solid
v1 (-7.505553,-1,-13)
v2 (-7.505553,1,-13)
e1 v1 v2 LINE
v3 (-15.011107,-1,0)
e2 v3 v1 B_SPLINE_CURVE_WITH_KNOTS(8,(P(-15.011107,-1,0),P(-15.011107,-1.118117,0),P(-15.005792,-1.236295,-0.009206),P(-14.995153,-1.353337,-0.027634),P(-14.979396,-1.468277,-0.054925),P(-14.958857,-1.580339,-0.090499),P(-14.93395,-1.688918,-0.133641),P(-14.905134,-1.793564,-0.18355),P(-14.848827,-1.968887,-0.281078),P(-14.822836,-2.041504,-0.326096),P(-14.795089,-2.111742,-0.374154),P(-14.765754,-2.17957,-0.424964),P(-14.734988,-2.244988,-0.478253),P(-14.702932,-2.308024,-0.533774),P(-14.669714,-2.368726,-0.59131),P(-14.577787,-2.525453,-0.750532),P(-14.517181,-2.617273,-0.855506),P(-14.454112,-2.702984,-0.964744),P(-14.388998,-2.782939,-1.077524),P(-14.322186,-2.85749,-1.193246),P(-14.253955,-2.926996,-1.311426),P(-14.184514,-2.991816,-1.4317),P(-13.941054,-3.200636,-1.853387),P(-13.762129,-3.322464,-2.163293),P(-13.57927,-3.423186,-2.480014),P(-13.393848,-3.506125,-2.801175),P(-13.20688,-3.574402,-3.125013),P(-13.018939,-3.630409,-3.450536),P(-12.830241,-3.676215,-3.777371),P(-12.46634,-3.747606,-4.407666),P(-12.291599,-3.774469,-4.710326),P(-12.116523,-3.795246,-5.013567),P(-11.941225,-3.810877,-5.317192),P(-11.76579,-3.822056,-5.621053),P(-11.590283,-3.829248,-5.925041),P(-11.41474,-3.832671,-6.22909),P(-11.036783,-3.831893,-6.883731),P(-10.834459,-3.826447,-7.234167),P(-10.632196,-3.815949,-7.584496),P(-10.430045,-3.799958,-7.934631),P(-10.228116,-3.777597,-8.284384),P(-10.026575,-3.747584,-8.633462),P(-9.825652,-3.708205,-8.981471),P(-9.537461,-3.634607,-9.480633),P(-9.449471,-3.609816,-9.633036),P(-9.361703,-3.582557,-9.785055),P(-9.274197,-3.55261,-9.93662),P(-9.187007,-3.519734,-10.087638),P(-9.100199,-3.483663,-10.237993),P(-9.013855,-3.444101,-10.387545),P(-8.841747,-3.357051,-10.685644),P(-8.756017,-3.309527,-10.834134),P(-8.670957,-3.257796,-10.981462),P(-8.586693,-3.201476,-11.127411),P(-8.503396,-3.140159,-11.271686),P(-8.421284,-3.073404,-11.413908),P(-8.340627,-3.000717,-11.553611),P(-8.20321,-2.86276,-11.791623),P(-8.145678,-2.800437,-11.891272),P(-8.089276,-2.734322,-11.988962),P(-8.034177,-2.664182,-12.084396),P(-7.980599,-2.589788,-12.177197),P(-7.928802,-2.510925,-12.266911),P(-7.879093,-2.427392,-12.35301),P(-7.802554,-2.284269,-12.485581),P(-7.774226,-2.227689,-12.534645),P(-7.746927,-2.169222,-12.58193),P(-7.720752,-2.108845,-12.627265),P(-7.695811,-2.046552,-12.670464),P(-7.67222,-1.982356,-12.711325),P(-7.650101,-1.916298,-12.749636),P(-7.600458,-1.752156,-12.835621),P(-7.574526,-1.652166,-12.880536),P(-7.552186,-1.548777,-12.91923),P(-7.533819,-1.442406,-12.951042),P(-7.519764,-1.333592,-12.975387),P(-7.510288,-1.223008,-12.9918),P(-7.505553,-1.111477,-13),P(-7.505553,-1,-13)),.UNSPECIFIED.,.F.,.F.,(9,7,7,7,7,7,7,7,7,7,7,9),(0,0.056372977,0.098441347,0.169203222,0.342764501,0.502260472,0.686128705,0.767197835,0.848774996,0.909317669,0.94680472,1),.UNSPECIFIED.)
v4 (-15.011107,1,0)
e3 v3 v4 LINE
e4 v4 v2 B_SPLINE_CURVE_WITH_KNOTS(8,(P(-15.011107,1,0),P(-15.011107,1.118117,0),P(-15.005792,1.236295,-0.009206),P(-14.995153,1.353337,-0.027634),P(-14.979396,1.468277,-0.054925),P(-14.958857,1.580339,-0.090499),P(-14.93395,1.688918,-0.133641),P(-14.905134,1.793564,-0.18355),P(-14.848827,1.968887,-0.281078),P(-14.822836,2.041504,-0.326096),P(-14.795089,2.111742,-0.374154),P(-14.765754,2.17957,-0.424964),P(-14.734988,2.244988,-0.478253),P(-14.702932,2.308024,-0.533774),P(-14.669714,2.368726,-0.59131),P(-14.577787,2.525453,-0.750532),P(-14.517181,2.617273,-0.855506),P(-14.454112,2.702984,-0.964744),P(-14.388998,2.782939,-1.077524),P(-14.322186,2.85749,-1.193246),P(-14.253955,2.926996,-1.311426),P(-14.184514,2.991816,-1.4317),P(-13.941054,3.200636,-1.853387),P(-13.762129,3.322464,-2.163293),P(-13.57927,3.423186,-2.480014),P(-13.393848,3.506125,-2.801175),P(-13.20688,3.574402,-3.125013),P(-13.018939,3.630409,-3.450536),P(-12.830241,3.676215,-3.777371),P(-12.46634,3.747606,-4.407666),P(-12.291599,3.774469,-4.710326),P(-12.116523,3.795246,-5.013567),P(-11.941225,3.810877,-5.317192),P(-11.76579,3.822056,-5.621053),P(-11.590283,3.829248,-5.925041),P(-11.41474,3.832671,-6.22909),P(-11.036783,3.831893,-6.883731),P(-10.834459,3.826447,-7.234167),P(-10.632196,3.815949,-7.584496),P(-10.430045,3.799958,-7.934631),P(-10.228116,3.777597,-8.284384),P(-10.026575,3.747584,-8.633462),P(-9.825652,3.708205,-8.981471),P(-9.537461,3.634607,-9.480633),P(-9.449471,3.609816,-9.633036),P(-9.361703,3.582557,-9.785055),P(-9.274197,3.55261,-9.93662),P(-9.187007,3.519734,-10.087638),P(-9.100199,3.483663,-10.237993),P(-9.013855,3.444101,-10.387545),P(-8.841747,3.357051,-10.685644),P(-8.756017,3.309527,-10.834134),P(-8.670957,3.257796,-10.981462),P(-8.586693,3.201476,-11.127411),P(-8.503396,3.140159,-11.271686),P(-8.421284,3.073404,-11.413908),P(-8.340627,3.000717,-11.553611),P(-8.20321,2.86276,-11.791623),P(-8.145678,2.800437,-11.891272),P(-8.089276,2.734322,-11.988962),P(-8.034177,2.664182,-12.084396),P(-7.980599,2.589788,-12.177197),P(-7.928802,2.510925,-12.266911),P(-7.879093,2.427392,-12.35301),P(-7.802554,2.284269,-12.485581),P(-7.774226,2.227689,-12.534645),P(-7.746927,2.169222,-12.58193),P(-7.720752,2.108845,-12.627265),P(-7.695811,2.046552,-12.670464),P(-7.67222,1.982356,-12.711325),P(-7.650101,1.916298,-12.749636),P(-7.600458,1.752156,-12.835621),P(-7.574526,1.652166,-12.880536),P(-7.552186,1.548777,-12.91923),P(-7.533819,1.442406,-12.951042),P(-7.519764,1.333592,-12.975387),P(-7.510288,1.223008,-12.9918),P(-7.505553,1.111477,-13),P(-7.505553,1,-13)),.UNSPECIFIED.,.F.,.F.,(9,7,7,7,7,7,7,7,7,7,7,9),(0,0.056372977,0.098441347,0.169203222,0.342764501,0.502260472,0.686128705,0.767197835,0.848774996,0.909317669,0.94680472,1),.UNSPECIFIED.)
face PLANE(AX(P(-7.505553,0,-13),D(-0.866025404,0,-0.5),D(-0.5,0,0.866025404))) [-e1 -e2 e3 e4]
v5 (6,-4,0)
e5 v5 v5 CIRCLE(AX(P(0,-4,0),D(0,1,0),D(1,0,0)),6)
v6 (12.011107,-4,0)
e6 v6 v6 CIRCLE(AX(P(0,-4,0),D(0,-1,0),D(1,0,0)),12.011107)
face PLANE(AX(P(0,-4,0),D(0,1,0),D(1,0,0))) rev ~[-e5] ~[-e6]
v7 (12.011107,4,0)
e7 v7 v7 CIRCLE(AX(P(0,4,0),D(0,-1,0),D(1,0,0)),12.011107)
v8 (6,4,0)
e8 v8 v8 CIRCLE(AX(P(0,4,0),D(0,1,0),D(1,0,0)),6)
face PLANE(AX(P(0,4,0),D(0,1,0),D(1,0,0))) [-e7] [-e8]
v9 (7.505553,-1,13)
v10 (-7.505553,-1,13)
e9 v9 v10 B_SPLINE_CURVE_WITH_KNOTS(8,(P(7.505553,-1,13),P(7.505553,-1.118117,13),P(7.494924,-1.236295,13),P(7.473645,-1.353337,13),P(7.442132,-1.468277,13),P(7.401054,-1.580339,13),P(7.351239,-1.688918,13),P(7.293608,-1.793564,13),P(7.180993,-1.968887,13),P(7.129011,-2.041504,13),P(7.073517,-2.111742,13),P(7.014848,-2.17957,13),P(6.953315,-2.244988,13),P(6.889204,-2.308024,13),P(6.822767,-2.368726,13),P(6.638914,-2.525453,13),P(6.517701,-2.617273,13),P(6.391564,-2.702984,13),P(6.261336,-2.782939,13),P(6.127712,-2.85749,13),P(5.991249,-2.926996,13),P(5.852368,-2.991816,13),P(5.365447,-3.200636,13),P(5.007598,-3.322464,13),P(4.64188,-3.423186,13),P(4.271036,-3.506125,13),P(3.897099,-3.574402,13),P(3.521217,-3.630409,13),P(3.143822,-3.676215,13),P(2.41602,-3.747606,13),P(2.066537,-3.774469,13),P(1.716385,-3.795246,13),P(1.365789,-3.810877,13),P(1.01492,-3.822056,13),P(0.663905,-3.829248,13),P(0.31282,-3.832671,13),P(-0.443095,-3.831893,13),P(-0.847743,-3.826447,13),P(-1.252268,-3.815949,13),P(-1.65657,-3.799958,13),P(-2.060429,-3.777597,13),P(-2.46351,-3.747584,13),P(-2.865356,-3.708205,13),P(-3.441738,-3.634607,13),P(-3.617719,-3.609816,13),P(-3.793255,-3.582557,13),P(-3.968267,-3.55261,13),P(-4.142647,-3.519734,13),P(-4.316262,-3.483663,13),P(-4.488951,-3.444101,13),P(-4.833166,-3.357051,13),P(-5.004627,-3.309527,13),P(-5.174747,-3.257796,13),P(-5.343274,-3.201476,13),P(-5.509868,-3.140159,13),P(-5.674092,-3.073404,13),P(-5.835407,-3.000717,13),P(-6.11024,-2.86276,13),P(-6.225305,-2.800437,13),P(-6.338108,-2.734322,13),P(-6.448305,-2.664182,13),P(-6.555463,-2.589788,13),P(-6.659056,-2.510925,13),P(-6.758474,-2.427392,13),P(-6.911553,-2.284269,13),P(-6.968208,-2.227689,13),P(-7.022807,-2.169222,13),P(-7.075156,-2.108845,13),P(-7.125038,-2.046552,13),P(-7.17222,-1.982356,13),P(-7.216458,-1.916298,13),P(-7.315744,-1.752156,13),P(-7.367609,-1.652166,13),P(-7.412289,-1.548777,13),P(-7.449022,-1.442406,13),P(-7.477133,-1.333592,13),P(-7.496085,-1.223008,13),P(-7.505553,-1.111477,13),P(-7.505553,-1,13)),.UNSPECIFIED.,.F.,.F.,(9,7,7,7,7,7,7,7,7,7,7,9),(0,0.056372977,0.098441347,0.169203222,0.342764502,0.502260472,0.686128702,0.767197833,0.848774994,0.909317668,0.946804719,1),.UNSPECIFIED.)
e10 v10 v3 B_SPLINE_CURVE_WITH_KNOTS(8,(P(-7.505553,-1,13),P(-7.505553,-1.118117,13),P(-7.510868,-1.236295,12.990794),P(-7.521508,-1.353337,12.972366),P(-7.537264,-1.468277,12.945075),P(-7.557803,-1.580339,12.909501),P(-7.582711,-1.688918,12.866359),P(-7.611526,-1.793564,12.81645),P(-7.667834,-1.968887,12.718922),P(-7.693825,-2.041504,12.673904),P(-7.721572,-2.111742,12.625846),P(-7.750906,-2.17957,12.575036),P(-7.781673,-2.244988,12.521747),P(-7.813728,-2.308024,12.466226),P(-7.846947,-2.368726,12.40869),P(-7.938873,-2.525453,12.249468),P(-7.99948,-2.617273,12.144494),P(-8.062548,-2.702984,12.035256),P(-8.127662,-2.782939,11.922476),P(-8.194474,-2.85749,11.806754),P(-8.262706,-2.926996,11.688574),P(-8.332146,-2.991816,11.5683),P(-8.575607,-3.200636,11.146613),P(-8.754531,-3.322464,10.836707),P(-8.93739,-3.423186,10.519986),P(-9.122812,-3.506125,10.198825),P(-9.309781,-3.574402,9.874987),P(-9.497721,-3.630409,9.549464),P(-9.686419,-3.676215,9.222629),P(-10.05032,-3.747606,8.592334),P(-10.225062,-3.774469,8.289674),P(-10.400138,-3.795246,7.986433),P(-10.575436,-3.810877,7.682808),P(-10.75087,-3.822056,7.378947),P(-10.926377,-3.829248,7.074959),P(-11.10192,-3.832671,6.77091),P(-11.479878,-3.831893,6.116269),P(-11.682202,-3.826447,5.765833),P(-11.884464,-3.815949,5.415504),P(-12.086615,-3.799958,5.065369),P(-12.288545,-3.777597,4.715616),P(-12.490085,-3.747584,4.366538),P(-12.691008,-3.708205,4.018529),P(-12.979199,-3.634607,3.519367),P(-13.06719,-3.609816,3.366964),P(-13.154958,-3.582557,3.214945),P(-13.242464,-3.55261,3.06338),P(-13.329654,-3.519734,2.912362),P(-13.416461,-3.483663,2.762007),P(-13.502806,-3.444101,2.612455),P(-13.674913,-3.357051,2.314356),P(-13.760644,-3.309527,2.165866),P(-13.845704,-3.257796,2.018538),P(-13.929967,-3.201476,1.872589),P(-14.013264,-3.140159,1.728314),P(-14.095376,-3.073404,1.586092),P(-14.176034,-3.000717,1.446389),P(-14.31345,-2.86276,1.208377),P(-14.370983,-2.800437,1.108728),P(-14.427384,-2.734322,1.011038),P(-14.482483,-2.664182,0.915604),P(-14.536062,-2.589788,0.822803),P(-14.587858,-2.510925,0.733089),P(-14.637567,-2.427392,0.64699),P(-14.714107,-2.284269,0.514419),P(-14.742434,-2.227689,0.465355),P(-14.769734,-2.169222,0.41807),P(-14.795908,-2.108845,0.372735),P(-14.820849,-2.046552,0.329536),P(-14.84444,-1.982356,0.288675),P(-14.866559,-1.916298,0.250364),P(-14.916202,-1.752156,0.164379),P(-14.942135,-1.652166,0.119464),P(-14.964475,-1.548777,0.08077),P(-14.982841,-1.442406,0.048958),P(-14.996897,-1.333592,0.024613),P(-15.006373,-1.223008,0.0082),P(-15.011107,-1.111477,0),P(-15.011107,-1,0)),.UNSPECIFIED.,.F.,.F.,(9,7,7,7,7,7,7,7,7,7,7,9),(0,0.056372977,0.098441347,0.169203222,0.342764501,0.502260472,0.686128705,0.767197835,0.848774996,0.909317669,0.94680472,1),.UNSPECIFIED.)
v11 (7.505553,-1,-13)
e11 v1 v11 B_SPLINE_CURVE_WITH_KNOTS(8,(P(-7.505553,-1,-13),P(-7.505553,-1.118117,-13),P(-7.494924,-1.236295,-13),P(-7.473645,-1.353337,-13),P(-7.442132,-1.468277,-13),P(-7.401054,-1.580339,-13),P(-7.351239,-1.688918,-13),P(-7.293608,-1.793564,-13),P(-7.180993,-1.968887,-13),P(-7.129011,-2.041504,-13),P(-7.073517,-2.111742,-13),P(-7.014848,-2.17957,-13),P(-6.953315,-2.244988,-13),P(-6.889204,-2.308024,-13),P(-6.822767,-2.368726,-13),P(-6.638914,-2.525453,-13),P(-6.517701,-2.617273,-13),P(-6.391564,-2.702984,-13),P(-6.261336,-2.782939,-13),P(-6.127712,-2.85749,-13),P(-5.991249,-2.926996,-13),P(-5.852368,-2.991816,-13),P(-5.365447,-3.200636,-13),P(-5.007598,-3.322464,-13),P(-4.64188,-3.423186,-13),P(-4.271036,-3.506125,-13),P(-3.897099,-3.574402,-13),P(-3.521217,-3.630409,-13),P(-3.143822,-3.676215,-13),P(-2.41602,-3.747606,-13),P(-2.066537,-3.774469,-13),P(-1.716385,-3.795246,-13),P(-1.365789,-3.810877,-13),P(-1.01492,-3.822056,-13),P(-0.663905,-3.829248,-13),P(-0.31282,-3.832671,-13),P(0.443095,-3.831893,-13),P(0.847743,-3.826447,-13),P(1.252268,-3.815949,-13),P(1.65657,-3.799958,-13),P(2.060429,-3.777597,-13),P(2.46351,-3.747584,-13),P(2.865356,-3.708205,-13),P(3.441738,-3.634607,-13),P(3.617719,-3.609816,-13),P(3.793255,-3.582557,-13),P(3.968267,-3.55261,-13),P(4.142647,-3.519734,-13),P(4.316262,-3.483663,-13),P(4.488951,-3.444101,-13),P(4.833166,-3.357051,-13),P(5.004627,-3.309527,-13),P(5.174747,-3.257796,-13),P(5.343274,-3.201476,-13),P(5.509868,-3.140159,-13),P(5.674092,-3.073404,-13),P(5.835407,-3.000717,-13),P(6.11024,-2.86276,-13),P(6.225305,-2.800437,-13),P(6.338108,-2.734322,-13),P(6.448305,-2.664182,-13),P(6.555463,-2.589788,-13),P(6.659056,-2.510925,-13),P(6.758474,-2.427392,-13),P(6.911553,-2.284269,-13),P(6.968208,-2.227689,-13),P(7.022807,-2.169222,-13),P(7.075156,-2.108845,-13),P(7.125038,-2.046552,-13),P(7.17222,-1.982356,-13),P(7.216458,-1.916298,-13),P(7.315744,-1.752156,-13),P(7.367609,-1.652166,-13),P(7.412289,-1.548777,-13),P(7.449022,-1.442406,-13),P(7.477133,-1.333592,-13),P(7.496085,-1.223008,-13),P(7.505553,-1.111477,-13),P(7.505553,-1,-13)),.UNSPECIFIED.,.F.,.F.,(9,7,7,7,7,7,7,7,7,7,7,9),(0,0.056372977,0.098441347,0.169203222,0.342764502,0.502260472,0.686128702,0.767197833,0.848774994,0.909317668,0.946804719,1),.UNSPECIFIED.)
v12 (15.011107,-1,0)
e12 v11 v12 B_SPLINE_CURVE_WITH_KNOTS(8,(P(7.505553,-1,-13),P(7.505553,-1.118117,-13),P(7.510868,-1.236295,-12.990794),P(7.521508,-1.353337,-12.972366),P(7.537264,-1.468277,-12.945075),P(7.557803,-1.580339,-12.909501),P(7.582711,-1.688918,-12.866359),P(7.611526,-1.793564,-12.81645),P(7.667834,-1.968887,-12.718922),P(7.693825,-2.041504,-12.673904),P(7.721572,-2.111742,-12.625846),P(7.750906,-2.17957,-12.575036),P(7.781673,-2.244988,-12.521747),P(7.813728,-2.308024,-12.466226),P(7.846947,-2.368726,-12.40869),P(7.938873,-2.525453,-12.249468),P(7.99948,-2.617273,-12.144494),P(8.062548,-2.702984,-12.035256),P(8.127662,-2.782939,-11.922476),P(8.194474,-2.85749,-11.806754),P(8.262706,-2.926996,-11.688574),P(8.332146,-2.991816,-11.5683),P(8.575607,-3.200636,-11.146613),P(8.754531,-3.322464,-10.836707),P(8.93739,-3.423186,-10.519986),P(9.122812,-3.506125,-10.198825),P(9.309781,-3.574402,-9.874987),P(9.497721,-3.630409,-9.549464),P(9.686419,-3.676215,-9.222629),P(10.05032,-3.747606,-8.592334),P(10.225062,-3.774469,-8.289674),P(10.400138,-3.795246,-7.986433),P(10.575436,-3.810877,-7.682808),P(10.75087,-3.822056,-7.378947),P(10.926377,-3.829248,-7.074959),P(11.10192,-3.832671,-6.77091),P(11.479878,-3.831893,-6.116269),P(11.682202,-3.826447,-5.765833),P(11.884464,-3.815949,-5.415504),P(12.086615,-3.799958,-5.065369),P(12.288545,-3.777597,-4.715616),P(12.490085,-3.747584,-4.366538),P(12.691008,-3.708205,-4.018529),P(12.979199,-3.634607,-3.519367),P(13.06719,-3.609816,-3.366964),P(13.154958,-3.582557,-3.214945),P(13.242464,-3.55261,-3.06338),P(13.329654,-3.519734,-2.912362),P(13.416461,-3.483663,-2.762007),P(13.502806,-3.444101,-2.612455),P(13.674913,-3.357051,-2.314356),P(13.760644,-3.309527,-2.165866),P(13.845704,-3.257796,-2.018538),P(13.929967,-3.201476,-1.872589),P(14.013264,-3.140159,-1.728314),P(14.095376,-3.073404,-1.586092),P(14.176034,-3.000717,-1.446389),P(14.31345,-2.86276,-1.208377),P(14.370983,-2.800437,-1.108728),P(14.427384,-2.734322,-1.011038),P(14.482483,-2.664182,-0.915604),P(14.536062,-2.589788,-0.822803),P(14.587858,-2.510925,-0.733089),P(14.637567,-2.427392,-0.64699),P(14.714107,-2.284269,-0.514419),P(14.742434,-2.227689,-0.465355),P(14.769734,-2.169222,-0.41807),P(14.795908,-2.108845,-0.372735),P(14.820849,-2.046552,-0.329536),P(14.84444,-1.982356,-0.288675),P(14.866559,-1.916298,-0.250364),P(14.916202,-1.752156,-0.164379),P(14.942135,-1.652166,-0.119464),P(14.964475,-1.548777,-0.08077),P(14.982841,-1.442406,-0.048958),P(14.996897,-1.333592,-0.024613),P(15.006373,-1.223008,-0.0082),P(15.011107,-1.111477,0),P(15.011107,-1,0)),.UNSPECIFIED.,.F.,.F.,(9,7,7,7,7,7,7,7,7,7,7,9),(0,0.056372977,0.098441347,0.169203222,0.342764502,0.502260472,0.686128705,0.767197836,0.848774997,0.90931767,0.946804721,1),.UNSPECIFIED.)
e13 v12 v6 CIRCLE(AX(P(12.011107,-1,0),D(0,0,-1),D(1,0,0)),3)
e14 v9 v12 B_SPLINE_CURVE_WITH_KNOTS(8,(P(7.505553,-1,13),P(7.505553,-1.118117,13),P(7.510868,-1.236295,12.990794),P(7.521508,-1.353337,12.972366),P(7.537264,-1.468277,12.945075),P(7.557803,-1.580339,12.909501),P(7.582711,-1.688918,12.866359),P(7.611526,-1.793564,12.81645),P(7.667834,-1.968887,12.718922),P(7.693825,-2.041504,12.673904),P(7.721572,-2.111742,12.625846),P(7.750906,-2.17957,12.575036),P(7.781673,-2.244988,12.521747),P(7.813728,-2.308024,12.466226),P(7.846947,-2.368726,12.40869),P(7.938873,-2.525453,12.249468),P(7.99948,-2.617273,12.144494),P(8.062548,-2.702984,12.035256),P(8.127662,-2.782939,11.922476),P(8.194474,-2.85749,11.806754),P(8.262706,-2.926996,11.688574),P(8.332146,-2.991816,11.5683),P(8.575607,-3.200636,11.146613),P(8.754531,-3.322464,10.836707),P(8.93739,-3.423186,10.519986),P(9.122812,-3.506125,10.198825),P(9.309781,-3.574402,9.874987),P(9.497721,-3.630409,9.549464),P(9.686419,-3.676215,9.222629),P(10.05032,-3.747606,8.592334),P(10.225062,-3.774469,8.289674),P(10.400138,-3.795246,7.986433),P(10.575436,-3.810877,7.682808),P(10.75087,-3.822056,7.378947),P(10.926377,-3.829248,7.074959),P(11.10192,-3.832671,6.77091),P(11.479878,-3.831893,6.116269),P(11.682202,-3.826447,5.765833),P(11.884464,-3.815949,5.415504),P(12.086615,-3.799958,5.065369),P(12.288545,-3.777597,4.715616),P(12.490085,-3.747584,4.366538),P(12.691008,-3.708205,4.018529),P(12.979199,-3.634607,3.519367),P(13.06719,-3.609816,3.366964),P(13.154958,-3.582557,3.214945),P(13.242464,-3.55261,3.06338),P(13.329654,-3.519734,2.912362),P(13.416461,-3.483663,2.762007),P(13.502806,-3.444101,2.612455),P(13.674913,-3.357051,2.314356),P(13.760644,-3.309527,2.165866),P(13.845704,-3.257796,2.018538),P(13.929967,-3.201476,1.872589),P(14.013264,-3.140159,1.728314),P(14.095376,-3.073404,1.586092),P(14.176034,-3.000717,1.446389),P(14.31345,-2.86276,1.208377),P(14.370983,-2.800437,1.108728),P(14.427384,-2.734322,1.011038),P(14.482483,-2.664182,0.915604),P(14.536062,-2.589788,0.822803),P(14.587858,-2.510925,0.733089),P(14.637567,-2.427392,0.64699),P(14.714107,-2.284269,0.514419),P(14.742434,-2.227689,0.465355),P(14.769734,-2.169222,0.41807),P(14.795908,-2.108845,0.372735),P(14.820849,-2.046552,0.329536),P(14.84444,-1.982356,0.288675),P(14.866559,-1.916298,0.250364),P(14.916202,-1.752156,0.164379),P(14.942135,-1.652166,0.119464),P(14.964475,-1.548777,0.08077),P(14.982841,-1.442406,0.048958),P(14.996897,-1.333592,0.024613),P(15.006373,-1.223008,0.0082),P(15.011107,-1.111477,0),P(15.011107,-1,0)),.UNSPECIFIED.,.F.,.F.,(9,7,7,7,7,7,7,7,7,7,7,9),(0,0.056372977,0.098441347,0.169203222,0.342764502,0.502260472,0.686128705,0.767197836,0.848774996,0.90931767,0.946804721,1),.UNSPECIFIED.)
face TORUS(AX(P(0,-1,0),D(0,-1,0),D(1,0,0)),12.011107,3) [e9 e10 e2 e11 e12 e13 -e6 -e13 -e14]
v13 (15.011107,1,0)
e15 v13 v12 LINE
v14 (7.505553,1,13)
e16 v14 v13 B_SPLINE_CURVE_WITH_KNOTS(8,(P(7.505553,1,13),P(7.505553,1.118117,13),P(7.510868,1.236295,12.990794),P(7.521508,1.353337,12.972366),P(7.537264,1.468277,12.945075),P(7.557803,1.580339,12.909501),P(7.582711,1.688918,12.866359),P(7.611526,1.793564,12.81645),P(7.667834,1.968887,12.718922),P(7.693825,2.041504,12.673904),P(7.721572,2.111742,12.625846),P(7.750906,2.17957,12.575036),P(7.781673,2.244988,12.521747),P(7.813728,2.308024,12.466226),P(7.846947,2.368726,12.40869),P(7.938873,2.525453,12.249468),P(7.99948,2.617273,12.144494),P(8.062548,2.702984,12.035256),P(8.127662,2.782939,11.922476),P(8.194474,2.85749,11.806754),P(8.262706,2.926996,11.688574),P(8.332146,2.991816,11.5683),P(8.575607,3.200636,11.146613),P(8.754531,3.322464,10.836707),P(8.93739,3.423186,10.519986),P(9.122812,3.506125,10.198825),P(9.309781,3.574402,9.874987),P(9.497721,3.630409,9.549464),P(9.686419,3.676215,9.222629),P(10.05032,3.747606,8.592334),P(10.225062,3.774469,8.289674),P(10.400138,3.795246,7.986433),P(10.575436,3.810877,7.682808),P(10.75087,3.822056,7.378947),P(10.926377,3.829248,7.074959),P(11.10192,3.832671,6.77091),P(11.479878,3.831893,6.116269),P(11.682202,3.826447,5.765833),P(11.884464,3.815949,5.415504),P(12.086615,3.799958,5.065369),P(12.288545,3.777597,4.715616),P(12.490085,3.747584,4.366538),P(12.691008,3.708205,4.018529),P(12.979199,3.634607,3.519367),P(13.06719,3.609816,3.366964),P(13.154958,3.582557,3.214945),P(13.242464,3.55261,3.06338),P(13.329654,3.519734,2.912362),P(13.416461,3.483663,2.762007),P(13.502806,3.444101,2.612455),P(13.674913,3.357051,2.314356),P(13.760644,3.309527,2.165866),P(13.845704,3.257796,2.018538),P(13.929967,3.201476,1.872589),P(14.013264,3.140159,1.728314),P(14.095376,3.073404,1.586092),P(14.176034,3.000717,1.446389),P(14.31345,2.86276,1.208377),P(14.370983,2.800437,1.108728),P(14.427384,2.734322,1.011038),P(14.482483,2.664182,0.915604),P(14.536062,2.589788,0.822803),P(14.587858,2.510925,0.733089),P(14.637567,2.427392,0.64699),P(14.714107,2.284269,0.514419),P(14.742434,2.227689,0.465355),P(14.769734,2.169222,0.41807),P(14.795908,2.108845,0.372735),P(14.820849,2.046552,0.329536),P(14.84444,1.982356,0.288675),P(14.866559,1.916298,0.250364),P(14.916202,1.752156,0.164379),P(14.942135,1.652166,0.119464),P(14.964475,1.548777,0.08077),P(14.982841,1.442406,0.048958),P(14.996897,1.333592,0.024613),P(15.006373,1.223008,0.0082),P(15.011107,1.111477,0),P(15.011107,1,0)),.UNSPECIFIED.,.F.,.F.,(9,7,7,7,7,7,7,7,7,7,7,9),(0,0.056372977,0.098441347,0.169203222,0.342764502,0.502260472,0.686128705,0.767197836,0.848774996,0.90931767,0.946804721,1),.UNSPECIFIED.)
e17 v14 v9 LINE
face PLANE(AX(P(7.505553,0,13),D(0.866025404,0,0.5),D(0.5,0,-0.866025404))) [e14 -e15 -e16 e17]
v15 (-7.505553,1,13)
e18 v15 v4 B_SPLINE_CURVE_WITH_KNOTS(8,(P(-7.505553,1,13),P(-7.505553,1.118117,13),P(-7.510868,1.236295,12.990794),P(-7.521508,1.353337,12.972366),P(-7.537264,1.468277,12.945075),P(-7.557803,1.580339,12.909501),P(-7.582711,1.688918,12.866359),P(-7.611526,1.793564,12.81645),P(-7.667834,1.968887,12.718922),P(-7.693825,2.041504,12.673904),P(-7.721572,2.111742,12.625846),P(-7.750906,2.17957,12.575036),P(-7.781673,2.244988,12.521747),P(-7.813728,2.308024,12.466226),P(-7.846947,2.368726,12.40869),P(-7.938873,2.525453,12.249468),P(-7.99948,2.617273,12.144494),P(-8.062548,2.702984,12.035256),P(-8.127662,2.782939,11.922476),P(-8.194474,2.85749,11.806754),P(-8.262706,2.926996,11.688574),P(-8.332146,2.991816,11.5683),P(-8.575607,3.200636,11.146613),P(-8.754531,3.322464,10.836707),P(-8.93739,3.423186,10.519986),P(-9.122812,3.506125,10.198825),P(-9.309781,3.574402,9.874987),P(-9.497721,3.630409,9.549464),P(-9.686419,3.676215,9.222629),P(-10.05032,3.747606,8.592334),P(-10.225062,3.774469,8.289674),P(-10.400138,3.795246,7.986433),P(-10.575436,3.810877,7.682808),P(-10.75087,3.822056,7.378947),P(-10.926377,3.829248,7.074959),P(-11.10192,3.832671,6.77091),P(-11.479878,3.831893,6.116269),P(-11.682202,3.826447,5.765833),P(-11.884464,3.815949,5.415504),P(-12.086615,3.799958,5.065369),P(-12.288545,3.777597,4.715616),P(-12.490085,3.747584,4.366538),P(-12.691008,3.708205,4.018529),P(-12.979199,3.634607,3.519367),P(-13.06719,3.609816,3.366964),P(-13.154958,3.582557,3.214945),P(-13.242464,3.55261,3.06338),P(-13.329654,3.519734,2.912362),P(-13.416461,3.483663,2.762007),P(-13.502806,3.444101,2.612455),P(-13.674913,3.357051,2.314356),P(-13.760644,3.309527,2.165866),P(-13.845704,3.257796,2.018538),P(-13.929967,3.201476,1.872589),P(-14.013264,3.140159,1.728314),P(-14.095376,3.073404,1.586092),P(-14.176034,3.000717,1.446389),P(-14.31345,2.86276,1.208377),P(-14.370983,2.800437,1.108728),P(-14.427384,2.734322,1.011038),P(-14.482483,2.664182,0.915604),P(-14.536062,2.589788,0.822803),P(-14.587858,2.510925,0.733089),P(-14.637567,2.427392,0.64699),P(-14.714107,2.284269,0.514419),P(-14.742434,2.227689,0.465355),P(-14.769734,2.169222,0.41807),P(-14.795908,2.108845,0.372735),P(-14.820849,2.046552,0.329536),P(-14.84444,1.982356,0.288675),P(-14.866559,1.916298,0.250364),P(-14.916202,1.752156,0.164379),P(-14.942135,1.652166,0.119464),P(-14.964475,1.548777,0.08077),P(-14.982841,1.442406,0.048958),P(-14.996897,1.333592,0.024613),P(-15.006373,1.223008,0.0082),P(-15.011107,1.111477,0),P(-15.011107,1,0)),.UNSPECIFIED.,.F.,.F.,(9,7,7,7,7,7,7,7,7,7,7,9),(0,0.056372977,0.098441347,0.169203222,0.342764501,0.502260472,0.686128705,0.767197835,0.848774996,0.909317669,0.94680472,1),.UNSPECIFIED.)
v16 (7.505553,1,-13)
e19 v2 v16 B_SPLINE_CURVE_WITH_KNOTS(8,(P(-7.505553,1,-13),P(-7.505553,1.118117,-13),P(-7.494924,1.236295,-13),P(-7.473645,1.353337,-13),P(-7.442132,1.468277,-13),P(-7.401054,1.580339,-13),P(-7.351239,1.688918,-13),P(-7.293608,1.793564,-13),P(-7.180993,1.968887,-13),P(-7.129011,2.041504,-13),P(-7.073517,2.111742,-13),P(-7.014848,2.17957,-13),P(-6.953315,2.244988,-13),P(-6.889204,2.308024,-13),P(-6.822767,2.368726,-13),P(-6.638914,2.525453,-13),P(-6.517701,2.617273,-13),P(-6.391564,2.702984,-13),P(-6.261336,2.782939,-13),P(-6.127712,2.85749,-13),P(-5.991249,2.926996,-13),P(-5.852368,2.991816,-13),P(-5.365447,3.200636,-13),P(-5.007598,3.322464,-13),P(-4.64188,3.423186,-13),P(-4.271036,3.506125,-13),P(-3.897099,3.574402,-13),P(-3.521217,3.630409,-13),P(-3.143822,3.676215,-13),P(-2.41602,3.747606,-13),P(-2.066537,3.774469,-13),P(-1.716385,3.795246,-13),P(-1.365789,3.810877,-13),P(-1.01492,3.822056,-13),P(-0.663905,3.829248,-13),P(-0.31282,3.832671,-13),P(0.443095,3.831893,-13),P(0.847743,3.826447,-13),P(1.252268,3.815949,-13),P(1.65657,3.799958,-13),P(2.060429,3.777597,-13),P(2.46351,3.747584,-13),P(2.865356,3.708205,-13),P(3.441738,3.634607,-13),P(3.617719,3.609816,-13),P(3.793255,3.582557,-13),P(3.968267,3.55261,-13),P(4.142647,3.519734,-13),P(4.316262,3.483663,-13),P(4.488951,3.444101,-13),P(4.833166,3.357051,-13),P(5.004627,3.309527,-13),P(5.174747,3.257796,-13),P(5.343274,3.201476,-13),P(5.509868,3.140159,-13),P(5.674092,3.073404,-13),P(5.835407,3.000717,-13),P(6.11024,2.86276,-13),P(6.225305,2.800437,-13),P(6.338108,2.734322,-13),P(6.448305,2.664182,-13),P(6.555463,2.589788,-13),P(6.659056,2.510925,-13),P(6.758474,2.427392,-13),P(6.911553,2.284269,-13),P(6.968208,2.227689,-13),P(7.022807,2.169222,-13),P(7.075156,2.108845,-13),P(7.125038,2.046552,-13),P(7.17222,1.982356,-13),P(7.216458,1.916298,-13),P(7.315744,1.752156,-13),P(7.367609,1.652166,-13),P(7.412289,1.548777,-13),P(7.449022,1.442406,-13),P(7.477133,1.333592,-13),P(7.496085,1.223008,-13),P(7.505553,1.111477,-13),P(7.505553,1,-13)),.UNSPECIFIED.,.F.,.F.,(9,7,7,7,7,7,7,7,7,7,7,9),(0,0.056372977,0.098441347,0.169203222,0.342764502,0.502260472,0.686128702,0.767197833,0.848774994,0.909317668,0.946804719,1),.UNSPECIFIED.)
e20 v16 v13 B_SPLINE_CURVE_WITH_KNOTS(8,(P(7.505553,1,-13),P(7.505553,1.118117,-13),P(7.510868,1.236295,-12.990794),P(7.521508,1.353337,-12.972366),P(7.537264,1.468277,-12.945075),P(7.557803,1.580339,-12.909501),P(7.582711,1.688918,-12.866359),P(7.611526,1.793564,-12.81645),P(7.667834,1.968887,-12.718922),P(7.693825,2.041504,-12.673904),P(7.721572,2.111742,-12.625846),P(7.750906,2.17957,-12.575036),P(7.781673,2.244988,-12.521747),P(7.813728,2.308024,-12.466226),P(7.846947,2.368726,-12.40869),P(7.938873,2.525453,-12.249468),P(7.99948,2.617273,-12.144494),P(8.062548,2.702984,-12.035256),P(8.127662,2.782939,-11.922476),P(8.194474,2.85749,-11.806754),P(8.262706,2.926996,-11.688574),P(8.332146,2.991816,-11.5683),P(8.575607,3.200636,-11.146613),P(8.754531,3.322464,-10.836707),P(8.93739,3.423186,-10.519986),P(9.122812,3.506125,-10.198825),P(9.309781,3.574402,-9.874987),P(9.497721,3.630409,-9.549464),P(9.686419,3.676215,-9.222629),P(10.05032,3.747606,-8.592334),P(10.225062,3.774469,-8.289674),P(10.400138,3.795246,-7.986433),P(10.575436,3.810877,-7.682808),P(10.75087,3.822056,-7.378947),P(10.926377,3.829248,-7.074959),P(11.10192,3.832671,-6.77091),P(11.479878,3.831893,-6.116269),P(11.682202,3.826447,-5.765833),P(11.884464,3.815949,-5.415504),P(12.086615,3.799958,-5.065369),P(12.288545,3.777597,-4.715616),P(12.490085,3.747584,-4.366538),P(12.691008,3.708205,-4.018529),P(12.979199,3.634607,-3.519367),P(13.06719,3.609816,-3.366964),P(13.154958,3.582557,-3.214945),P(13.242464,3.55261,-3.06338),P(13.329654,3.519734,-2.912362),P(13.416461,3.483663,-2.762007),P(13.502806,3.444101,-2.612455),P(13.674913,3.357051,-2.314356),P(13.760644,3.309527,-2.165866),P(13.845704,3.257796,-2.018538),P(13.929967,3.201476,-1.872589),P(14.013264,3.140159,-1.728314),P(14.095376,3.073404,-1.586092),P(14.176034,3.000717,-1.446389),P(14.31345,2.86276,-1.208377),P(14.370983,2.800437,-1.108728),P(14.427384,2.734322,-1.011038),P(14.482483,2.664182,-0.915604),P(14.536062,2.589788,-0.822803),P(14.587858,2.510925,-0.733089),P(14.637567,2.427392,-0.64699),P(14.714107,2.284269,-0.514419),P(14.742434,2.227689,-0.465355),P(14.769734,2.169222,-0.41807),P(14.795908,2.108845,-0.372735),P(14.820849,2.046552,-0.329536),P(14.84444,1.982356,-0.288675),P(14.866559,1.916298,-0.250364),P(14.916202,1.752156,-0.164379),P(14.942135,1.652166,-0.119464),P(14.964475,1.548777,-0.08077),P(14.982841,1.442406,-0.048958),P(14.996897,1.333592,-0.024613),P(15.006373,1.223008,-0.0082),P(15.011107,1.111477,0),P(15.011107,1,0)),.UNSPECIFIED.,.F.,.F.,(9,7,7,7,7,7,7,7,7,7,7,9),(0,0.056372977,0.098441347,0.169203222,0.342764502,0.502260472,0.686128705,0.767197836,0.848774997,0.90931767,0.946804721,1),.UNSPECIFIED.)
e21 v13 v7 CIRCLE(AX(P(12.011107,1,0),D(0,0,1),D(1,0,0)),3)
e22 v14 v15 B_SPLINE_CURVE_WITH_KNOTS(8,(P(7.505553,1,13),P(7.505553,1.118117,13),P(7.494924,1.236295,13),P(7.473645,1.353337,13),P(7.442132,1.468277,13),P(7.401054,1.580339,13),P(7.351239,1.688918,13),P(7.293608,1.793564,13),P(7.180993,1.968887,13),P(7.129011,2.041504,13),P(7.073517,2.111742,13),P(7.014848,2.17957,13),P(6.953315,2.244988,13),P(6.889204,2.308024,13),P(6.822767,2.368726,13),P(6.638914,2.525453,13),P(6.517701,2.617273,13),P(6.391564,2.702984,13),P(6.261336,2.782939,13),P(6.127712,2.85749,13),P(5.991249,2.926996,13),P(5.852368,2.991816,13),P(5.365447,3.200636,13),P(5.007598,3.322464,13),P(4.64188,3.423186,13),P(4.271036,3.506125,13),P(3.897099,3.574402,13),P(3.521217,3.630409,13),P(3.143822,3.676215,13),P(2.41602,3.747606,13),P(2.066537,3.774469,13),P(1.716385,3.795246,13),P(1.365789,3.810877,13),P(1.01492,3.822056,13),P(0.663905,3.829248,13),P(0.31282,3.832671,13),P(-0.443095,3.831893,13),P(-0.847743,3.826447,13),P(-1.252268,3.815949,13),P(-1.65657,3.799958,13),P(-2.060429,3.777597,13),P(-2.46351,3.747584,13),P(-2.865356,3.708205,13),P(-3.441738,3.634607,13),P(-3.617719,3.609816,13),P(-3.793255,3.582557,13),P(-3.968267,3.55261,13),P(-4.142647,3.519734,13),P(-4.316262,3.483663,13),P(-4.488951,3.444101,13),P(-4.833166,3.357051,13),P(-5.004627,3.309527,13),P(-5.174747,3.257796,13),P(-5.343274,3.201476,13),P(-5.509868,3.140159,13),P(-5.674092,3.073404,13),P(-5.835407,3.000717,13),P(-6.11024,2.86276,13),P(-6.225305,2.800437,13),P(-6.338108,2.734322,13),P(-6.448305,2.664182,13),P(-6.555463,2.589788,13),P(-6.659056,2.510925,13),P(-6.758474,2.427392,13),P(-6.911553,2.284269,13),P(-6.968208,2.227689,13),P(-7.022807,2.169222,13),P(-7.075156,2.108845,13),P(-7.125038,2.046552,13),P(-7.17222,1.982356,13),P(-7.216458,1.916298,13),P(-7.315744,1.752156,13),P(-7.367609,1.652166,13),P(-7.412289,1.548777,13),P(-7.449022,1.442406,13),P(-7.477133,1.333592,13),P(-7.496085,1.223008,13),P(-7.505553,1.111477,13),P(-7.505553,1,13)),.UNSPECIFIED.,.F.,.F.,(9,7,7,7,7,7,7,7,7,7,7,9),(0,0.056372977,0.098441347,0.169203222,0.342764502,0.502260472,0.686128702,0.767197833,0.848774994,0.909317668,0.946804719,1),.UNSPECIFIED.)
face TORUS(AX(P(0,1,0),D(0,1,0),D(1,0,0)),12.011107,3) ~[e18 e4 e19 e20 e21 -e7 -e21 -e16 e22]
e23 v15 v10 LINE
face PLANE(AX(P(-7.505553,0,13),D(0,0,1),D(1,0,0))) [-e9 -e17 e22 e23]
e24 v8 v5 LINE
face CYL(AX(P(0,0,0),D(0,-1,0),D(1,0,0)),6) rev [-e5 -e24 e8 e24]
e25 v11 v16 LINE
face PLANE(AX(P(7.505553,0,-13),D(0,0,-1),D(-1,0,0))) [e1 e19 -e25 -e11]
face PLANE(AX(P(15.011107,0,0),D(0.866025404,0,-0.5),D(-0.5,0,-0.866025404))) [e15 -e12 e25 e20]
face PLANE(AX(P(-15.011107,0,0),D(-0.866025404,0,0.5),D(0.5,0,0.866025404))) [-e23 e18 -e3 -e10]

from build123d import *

# Parameters (mm, degrees)
SKETCH1_R           = 6
BOSS_EXTRUDE1_DEPTH = 4


with BuildPart() as part:
    # Sketch1 → Boss-Extrude1 (new body, symmetric)
    with BuildSketch(Plane(origin=(0, 0, 0), x_dir=(1, 0, 0), z_dir=(0, 1, 0))):
        Polygon((15.011106999, 0), (7.505553499, 13), (-7.505553499, 13), (-15.011106999, 0), (-7.505553499, -13), (7.505553499, -13), align=None)
        Circle(SKETCH1_R, mode=Mode.SUBTRACT)
    extrude(amount=BOSS_EXTRUDE1_DEPTH, both=True)

    # Sketch2 → Cut-Revolve1 (revolve, cut)
    with BuildSketch(Plane.XY):
        with BuildLine():
            Line((15.011106999, 4), (15.011106999, 1))
            ThreePointArc((15.011106999, 1), (14.132427342, 3.121320344), (12.011106999, 4))
            Line((12.011106999, 4), (15.011106999, 4))
        make_face()
    cut_revolve1 = revolve(axis=Axis((0, 0, 0), (0, -1, 0)), mode=Mode.SUBTRACT)

    # Mirror1: Cut-Revolve1 across plane
    add(cut_revolve1.mirror(Plane.ZX), mode=Mode.SUBTRACT)


solid = part.part
